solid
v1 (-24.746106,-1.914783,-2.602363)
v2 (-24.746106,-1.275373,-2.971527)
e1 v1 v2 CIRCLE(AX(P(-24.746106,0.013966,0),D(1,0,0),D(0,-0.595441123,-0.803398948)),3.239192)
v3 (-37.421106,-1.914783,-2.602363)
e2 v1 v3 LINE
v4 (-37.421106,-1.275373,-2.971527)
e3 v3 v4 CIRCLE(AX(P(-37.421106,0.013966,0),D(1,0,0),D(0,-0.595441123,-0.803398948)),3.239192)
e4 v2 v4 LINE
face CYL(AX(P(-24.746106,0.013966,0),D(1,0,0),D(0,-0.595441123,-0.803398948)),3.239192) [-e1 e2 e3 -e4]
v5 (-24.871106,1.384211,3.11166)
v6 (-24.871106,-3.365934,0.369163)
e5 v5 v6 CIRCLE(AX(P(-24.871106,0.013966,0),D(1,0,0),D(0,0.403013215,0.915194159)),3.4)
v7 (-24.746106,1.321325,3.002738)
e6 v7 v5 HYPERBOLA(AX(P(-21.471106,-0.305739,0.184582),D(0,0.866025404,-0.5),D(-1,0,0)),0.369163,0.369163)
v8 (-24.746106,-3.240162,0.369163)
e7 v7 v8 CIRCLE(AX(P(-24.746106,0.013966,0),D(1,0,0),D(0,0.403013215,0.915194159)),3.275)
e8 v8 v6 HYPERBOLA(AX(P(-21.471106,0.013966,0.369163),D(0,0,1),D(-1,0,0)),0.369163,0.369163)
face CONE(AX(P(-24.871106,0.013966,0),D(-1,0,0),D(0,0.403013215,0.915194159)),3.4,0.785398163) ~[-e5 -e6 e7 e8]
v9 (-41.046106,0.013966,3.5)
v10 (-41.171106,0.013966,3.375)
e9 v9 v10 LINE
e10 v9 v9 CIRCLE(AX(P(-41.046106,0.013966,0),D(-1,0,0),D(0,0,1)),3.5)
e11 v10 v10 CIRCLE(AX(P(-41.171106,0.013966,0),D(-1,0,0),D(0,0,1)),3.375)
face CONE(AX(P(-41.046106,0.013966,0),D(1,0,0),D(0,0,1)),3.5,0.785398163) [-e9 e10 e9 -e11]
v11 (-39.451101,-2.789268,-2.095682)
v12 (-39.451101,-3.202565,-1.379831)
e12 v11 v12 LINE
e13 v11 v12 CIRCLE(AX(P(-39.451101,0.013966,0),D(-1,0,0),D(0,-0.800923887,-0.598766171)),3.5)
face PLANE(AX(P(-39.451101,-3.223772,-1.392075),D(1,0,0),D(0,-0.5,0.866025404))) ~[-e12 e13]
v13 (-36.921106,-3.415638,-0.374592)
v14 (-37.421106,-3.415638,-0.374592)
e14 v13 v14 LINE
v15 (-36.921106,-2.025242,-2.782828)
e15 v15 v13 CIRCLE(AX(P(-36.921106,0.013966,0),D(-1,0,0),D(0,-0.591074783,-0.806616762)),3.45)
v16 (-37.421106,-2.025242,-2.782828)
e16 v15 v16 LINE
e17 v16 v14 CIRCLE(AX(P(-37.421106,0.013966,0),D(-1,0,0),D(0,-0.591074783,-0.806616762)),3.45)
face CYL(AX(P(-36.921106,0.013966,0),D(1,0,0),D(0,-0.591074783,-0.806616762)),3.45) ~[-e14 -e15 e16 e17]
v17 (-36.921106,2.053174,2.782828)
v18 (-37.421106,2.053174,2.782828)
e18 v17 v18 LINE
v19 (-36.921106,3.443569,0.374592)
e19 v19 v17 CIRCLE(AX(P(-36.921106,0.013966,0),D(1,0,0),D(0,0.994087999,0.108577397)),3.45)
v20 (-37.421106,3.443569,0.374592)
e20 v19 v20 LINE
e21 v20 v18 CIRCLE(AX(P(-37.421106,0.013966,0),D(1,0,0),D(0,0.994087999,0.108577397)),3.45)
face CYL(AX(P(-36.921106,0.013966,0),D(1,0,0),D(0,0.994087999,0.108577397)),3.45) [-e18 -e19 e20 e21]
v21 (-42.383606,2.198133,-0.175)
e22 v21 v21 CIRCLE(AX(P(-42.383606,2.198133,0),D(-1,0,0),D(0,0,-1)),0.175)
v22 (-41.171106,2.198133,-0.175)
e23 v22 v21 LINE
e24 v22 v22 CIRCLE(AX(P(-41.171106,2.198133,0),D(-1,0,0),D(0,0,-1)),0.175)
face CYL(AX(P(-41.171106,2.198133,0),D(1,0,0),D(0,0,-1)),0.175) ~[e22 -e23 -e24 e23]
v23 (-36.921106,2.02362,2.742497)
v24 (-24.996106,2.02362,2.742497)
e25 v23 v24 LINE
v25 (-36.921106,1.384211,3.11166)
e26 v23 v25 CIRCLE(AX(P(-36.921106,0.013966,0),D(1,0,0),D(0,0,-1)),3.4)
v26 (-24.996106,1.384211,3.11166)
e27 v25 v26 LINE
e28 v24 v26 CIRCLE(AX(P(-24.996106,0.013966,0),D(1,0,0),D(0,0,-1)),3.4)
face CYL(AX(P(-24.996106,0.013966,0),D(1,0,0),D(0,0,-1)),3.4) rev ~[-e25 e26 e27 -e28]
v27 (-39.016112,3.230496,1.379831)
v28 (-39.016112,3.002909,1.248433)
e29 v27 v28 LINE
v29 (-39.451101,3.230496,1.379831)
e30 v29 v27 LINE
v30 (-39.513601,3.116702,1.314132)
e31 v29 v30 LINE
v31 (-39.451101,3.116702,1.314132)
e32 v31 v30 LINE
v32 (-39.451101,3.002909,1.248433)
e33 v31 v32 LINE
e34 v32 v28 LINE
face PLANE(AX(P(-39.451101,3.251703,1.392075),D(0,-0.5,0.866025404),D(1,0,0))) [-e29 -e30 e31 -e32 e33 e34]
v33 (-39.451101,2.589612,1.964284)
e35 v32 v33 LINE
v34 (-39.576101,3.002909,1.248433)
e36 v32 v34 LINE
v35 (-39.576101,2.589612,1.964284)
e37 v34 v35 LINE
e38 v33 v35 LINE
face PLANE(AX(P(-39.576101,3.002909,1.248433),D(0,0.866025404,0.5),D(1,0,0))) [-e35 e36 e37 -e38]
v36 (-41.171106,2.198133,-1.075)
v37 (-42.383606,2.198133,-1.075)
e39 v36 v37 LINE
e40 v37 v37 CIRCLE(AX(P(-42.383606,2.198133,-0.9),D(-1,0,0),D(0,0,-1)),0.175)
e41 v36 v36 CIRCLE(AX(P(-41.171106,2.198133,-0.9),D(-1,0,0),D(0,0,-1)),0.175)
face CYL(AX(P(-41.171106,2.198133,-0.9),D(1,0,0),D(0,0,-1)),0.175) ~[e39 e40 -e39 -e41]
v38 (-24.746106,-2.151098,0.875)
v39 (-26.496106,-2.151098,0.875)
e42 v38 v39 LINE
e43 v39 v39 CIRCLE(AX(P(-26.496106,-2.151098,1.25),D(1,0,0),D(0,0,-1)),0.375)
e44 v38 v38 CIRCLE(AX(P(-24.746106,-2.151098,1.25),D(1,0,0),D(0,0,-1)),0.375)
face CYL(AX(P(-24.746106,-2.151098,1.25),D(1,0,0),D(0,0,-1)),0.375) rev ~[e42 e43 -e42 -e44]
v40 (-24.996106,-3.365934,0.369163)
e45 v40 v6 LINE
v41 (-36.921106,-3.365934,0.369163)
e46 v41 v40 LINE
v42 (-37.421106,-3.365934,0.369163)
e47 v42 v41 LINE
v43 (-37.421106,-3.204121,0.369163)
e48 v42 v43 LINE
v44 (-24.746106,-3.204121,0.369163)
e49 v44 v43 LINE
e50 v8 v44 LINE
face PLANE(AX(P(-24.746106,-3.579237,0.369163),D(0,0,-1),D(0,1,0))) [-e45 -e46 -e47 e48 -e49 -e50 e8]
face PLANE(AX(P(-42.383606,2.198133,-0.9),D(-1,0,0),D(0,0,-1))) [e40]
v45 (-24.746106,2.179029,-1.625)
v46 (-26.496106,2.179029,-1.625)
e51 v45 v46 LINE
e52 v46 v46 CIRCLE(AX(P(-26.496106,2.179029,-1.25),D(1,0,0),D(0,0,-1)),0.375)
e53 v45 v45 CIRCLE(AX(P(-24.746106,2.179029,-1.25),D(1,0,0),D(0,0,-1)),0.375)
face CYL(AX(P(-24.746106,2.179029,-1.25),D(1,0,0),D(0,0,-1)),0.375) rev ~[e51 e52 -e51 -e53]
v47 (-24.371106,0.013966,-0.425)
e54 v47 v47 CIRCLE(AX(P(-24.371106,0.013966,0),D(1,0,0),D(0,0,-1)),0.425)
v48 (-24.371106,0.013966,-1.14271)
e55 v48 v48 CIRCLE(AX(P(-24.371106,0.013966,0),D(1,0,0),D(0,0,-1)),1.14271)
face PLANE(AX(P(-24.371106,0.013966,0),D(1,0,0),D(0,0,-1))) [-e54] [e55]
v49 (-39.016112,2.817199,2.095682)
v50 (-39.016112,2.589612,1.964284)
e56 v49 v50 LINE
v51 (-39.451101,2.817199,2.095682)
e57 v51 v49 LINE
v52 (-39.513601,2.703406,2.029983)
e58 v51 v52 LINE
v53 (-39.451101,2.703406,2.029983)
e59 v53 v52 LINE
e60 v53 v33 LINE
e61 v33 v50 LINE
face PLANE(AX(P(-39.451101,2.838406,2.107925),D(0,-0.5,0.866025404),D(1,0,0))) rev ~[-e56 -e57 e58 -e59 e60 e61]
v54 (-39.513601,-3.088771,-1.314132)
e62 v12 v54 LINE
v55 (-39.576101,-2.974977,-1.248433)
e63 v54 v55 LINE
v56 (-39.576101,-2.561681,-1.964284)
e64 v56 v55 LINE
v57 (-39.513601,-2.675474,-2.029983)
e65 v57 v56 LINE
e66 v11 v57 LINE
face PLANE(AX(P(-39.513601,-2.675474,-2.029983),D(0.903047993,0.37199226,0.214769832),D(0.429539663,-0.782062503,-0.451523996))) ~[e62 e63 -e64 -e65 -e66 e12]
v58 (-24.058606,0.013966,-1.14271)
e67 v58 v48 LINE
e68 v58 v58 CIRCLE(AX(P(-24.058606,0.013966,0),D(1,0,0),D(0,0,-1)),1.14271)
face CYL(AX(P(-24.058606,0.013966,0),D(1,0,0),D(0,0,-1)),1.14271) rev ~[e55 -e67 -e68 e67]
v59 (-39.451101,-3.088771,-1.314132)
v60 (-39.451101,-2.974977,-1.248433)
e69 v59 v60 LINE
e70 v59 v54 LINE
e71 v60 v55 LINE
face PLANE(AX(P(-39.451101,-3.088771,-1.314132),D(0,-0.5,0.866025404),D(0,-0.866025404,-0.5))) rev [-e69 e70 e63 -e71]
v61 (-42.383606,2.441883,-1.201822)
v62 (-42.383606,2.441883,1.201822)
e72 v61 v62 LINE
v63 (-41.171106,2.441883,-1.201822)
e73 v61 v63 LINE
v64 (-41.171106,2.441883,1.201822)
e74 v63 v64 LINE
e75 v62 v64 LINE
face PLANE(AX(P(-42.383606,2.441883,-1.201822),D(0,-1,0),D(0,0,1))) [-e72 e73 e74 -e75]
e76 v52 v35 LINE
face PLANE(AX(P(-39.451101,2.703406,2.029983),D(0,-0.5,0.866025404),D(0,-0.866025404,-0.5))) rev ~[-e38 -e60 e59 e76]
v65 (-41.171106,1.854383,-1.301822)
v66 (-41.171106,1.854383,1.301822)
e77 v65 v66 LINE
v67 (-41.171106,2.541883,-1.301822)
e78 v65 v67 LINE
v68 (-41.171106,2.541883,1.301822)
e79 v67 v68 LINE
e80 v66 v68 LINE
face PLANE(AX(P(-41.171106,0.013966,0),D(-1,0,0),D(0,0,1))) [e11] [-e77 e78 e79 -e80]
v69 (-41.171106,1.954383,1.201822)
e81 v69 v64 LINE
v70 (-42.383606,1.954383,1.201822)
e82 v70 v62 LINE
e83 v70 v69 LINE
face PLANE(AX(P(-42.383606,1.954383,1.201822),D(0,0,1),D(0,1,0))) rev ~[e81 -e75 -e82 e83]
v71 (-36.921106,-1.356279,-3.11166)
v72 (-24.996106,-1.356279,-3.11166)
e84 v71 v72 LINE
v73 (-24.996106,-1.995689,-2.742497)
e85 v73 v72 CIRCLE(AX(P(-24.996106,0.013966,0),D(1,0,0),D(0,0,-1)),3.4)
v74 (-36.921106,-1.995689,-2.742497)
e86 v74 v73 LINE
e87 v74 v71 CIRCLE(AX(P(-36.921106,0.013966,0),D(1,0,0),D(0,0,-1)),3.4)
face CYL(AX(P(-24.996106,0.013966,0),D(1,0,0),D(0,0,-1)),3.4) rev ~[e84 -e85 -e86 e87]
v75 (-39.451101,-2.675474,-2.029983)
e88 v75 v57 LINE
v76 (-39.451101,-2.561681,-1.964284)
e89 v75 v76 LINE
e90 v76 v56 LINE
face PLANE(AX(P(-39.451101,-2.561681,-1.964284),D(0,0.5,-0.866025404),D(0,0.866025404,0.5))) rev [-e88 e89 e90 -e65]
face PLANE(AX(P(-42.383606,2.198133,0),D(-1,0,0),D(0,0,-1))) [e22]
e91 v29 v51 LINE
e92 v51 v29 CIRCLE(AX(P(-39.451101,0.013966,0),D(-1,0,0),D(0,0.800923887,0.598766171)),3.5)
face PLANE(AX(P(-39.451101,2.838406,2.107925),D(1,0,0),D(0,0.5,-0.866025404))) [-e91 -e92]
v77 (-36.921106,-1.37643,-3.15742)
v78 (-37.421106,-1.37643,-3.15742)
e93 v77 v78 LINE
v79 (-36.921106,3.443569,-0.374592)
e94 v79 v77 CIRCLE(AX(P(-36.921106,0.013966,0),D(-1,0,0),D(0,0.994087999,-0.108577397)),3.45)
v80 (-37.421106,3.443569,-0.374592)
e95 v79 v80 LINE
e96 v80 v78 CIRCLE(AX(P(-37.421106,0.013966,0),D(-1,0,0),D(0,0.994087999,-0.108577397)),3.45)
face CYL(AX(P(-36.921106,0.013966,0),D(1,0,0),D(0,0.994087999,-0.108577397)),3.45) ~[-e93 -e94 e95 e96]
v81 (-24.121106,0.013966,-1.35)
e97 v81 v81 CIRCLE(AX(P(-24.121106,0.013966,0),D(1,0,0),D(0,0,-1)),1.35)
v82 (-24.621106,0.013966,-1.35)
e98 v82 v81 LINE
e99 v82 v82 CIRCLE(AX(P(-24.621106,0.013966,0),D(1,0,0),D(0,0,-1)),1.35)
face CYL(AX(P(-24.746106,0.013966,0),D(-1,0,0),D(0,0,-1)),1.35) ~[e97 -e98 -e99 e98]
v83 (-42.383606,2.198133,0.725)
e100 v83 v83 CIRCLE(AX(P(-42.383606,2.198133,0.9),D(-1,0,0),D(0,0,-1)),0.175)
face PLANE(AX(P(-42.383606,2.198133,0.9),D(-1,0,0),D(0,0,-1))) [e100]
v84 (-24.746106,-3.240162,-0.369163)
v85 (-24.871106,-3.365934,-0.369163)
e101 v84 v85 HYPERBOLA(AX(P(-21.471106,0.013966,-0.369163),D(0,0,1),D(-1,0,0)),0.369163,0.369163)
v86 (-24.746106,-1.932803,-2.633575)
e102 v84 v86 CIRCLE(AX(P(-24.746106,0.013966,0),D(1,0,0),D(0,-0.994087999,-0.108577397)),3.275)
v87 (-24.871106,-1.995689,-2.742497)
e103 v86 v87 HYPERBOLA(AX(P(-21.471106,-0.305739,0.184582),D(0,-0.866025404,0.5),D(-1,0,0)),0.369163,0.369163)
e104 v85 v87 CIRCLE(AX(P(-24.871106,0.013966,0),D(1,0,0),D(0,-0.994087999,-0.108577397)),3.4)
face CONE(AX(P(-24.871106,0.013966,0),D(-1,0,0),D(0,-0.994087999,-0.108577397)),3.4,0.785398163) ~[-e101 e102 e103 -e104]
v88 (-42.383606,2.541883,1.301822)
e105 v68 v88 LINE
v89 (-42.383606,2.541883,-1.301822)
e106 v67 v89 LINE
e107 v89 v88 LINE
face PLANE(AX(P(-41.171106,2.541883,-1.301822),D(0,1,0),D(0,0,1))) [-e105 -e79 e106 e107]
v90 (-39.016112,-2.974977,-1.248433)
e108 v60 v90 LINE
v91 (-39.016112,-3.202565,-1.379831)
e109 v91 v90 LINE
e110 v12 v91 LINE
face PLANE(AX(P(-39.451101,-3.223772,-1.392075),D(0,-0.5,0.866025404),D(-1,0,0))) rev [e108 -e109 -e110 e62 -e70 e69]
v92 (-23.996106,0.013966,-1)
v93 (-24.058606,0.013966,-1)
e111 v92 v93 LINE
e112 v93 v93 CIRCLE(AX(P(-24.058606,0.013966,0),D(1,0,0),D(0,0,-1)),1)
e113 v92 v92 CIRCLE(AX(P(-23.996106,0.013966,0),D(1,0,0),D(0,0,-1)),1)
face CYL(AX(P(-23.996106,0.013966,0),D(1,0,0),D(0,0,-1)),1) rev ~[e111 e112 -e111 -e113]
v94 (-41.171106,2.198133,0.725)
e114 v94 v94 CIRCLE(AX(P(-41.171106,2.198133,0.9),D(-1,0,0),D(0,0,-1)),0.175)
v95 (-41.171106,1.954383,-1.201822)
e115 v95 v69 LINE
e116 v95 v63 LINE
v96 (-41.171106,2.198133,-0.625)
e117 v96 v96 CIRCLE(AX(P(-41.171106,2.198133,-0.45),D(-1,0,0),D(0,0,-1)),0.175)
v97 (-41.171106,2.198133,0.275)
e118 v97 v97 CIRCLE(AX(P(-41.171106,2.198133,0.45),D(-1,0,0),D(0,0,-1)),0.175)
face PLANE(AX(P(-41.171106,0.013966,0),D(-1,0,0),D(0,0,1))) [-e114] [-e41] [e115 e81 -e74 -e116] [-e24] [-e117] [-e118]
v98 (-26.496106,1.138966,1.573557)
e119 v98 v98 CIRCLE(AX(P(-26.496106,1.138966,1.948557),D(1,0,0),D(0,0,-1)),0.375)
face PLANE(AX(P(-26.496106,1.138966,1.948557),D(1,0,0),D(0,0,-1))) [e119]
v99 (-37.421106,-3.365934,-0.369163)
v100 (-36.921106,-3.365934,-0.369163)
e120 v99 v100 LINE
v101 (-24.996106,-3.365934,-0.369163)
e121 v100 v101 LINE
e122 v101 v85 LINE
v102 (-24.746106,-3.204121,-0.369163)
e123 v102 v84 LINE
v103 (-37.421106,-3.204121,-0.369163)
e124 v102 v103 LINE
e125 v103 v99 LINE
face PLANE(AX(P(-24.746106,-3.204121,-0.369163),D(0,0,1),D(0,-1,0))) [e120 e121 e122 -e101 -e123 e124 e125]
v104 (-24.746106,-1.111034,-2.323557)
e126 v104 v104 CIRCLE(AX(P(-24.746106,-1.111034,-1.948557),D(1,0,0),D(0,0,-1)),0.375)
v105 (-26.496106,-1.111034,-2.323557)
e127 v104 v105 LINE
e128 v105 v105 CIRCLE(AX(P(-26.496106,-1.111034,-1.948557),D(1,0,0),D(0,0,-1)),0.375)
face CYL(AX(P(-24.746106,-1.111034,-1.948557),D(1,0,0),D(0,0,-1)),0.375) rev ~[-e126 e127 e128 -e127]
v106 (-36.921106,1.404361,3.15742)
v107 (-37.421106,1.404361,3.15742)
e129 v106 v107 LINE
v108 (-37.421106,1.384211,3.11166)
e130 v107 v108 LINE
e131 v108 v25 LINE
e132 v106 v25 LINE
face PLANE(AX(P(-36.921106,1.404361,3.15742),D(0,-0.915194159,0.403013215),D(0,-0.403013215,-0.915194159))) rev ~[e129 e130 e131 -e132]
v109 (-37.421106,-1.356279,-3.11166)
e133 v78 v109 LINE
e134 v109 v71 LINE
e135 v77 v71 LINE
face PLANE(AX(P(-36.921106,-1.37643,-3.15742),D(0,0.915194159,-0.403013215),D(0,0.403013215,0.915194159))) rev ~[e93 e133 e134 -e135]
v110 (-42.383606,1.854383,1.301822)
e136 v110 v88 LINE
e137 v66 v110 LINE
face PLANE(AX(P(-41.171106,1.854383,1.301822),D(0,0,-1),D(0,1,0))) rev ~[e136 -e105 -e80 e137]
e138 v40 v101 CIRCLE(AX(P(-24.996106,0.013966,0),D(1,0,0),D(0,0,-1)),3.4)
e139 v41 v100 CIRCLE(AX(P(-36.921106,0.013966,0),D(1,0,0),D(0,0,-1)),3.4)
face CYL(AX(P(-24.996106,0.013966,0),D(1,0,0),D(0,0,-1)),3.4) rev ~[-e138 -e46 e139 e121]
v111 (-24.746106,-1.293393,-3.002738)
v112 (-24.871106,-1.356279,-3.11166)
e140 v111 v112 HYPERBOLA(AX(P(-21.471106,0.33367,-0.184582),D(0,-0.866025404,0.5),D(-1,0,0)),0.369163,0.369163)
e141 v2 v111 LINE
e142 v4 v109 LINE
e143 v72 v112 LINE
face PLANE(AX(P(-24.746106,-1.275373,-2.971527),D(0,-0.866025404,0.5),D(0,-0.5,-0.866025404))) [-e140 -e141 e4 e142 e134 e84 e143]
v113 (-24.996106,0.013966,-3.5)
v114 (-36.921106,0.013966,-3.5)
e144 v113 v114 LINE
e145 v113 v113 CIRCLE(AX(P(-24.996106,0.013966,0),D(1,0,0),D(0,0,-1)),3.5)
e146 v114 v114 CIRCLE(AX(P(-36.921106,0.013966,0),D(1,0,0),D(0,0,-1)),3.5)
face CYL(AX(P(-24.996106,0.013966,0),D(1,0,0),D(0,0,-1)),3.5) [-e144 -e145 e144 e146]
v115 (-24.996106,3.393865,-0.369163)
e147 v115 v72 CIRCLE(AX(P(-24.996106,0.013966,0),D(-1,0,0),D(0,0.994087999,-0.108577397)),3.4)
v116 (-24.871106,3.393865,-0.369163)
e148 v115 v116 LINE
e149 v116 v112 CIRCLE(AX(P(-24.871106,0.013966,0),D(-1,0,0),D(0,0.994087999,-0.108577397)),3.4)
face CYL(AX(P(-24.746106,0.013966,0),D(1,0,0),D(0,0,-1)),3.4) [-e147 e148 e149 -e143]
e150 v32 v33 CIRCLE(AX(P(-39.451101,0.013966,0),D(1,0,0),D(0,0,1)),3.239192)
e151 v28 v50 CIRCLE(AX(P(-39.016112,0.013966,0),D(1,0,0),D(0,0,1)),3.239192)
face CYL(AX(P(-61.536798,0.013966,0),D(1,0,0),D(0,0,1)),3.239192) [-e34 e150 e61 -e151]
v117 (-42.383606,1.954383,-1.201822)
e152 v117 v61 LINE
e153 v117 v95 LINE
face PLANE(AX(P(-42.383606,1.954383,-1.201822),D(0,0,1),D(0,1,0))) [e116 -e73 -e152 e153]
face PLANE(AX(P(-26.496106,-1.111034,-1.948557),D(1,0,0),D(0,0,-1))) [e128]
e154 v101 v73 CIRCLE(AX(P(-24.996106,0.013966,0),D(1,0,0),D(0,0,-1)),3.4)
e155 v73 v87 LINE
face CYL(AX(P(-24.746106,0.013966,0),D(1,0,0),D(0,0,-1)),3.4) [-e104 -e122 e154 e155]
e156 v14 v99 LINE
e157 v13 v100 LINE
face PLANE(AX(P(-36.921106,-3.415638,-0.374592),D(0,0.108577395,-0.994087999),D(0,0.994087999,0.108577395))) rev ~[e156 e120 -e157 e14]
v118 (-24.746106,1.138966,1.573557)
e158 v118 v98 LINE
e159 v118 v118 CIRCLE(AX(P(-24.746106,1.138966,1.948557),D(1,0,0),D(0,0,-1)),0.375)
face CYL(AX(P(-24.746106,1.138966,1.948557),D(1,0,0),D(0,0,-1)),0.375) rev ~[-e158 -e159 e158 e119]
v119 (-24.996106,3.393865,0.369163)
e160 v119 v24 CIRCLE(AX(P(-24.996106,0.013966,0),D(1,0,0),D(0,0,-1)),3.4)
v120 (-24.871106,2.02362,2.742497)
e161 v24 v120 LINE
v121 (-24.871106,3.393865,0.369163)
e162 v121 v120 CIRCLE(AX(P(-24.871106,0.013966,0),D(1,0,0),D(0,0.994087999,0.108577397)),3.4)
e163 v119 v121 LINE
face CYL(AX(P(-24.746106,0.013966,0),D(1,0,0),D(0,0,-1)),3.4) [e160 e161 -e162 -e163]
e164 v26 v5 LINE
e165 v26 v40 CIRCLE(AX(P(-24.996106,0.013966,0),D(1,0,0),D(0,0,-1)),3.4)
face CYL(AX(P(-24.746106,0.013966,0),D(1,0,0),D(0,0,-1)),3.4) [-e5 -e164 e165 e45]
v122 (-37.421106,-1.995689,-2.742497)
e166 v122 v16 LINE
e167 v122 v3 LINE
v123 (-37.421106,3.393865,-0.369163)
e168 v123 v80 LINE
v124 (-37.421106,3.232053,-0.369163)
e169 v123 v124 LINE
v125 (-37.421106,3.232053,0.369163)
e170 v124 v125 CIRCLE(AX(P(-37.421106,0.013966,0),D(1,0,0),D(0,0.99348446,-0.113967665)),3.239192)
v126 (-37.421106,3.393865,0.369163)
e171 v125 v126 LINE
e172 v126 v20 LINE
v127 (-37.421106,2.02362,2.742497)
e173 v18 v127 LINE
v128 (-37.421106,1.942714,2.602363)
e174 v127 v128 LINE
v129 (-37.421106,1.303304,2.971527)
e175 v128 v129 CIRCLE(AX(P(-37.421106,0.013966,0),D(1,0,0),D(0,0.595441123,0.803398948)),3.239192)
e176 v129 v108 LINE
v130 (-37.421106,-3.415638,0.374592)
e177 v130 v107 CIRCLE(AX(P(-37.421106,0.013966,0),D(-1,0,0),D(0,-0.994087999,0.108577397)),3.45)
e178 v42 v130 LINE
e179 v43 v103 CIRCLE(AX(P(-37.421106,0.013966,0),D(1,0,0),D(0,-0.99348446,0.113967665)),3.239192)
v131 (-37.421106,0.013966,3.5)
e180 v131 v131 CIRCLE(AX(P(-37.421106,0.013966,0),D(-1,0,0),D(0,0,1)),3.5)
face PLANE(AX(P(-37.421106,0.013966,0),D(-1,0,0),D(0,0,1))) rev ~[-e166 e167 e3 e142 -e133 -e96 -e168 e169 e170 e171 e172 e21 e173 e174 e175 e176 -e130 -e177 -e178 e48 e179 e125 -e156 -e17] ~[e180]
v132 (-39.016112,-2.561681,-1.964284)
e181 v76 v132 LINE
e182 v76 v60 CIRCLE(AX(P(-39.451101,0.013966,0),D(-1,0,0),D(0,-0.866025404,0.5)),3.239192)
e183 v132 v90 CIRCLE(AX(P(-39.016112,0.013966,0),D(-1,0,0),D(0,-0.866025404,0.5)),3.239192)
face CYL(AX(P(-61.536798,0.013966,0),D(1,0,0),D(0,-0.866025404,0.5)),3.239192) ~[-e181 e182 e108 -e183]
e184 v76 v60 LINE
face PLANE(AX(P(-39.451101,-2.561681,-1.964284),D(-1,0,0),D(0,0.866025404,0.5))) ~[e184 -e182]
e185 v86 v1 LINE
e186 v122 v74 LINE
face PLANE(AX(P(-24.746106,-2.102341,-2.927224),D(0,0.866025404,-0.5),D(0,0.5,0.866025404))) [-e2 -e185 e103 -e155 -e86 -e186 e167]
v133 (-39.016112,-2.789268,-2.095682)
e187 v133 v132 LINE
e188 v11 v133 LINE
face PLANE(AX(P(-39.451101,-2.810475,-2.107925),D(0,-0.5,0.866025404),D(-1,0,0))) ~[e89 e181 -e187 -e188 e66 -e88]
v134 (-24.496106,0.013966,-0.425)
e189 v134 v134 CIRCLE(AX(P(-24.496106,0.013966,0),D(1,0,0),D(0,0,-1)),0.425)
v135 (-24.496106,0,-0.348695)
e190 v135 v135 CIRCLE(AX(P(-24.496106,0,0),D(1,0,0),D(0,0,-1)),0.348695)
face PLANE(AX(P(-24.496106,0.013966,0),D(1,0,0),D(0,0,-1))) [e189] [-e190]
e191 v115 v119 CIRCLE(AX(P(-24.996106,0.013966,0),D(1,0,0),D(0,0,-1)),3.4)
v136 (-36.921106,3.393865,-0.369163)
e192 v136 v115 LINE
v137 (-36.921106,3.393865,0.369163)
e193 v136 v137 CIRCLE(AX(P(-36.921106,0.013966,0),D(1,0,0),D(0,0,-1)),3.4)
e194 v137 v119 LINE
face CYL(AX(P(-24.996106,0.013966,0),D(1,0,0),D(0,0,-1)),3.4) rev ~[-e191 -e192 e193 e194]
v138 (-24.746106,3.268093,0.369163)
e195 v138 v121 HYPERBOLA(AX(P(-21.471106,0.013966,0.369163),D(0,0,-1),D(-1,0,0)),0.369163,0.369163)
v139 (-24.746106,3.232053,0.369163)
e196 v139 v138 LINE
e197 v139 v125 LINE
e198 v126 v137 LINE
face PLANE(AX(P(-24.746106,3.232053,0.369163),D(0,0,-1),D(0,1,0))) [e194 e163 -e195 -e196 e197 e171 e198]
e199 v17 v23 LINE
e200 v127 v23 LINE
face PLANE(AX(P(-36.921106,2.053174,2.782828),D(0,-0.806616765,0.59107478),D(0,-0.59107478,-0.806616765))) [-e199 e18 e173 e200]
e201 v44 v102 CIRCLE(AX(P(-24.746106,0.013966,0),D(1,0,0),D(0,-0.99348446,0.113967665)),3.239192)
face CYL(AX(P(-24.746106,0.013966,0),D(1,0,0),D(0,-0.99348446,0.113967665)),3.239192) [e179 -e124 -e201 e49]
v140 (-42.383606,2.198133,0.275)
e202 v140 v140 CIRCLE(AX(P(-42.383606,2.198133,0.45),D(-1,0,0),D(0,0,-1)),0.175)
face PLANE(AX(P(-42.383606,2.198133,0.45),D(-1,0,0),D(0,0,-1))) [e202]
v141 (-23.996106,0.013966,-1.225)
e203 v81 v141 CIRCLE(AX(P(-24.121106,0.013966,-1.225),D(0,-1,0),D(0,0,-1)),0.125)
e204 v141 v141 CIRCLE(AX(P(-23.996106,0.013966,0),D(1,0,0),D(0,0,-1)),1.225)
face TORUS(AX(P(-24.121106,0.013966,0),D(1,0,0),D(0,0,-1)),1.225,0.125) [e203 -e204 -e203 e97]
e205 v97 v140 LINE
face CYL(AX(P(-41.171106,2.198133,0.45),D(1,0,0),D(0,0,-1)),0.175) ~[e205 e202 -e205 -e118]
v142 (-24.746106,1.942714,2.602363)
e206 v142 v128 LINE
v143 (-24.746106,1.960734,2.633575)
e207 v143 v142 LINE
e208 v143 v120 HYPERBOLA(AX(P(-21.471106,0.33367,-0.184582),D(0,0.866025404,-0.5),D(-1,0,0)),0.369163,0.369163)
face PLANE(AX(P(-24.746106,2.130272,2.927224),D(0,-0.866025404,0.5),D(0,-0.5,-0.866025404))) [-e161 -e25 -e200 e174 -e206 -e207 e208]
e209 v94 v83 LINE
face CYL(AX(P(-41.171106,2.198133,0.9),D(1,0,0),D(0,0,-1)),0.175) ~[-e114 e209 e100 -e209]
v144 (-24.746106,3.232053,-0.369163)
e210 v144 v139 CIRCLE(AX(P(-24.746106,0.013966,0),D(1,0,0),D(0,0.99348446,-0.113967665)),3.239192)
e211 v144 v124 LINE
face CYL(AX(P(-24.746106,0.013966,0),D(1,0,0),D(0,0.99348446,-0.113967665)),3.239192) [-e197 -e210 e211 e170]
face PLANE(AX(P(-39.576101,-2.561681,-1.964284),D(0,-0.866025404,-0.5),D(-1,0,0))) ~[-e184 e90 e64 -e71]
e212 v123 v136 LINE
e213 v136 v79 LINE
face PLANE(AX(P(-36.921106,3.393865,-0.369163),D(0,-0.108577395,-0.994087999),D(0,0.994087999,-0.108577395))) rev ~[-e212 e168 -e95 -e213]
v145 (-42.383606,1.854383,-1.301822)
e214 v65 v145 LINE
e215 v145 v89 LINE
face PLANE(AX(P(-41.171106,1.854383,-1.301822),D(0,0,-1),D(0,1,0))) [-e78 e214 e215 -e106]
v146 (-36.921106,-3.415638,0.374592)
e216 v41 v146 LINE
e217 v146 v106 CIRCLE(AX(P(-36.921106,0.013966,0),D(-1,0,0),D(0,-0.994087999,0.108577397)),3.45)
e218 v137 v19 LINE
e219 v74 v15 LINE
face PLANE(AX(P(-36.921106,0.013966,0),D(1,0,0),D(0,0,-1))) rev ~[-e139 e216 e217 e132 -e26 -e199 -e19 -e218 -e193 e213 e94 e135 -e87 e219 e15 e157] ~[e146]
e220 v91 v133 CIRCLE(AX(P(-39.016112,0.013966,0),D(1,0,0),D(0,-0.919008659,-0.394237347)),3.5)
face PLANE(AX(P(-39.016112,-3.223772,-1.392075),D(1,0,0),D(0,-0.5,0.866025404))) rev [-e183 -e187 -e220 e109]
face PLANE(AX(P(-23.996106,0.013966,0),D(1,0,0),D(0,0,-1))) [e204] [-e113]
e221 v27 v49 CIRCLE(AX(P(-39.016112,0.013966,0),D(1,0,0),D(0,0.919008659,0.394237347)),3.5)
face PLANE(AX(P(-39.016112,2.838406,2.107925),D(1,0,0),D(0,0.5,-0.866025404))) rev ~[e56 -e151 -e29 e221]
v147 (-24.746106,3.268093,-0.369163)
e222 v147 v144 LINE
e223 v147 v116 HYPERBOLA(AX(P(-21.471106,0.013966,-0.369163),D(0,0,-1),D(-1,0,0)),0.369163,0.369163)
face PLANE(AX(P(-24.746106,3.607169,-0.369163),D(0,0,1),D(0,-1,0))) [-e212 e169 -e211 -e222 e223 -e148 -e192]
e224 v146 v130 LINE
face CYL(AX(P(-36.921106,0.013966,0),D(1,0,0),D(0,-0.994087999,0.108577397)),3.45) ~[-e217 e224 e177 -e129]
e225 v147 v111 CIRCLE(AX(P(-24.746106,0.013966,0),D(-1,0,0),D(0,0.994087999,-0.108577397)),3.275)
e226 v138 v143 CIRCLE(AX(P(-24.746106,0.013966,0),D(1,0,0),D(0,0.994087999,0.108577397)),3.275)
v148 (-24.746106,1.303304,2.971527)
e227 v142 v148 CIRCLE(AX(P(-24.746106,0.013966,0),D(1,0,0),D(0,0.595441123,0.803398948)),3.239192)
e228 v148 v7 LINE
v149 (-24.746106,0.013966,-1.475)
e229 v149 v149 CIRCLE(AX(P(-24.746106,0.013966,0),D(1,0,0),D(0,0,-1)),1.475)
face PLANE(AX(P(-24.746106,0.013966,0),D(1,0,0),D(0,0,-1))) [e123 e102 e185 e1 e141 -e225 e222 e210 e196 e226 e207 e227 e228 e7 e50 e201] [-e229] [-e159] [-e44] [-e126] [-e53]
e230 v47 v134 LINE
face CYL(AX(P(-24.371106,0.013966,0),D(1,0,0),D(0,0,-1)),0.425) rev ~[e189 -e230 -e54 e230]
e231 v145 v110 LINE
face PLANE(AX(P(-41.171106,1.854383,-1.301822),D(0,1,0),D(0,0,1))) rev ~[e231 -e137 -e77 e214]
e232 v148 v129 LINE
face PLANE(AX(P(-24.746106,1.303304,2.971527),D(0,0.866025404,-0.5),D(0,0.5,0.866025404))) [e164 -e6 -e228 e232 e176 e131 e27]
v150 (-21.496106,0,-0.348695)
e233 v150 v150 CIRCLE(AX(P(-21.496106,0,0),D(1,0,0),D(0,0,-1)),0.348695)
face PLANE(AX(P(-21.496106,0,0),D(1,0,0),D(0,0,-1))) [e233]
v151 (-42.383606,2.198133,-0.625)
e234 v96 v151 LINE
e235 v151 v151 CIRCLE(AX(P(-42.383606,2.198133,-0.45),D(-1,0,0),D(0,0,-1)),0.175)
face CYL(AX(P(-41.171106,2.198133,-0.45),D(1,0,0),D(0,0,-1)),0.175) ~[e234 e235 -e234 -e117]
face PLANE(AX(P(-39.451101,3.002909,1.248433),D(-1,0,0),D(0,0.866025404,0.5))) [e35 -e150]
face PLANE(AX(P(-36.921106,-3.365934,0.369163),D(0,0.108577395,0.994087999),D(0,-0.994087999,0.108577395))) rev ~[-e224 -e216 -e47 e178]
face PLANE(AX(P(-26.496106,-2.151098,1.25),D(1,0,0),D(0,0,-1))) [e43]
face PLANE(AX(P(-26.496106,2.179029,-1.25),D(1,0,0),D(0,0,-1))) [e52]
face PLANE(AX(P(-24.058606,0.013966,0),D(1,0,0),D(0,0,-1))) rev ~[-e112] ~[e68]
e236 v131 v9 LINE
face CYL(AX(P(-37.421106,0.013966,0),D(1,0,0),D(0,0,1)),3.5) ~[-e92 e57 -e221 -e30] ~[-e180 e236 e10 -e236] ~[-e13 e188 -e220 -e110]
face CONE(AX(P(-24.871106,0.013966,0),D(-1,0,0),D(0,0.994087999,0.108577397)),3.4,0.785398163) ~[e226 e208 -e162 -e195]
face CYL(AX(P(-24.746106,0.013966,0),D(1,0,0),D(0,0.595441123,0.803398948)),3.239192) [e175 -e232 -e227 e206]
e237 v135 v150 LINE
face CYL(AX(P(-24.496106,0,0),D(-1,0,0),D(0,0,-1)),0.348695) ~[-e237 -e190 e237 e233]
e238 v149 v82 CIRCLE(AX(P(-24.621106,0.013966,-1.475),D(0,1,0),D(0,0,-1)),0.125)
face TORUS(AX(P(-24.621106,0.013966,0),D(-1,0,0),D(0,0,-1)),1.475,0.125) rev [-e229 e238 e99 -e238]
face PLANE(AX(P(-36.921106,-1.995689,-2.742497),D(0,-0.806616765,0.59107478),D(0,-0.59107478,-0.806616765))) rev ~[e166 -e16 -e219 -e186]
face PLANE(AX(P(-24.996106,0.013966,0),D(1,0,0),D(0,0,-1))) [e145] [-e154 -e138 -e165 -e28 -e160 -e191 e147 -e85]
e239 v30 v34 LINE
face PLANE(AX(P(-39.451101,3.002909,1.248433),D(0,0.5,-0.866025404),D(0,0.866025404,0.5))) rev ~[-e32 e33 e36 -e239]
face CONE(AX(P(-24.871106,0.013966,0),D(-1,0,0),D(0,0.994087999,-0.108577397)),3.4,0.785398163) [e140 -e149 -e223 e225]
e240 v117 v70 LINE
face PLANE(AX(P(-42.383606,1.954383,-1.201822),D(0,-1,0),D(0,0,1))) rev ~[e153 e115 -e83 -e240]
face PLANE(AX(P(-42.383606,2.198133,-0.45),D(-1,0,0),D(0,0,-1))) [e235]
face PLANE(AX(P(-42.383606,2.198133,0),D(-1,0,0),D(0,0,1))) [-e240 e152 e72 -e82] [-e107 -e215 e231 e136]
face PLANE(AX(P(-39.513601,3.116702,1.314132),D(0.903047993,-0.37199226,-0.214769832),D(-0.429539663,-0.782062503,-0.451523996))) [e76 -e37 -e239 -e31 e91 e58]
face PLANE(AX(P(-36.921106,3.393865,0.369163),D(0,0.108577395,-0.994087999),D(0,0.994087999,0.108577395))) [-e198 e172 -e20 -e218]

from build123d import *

# Parameters (mm, degrees)
SKETCH1_R               = 13.6
BOSS_EXTRUDE1_DEPTH     = 50.7
CUT_EXTRUDE1_DEPTH      = 55.225547485
SKETCH3_R               = 14
SKETCH3_R_2             = 13.6
BOSS_EXTRUDE2_DEPTH     = 47.7
SKETCH4_R               = 14
BOSS_EXTRUDE3_DEPTH     = 15
BOSS_EXTRUDE4_START     = 2
BOSS_EXTRUDE4_DEPTH     = 2
SKETCH6_R               = 1.5
CUT_EXTRUDE2_DEPTH      = 7
SKETCH7_R               = 5.4
BOSS_EXTRUDE5_DEPTH     = 3
SKETCH8_R               = 4
CUT_EXTRUDE3_DEPTH      = 1.5
SKETCH9_R               = 1.7
CUT_EXTRUDE4_DEPTH      = 0.5
CUT_EXTRUDE5_START      = 1.25
SKETCH12_R              = 4.570841128
SKETCH12_R_2            = 4
CUT_EXTRUDE5_DEPTH      = 1.25
FILLET1_R               = 0.5
CHAMFER1_SIZE           = 0.5
CUT_EXTRUDE6_REACH      = 75.756
CUT_EXTRUDE6_END_RADIUS = 12.956768024
SKETCH13_W              = 1.739955734
SKETCH13_H              = 3.306373614
CUT_EXTRUDE7_DEPTH      = 0.5
CUT_EXTRUDE8_DEPTH      = 3.306373613
BOSS_EXTRUDE7_DEPTH     = 3.306373613
SKETCH17_W              = 10.414574722
SKETCH17_H              = 2.75
BOSS_EXTRUDE8_DEPTH     = 4.85
SKETCH18_W              = 9.614574722
SKETCH18_H              = 1.95
CUT_EXTRUDE10_DEPTH     = 4.85
SKETCH20_R              = 0.7
BOSS_EXTRUDE9_DEPTH     = 4.85
SCALE1_SCALE            = 0.25
SKETCH21_R              = 0.348695204
BOSS_EXTRUDE10_DEPTH    = 3


with BuildPart() as part:
    # Sketch1 → Boss-Extrude1 (new body)
    with BuildSketch(Plane(origin=(0, 0, 0), x_dir=(0, 0, -1), z_dir=(1, 0, 0))):
        Circle(SKETCH1_R)
    extrude(amount=-BOSS_EXTRUDE1_DEPTH)

    # Sketch2 → Cut-Extrude1 (cut, through all)
    with BuildSketch(Plane(origin=(0, 0, 0), x_dir=(0, 0, -1), z_dir=(1, 0, 0))):
        with BuildLine():
            Line((-1.476652596, 12.872347678), (-1.476652596, 14.372812182))
            Line((-1.476652596, 14.372812182), (1.476652596, 14.372812182))
            Line((1.476652596, 14.372812182), (1.476652596, 12.872347678))
            ThreePointArc((1.476652596, 12.872347678), (0, 12.956768024), (-1.476652596, 12.872347678))
        make_face()
        with BuildLine():
            Line((1.476652596, -12.872347678), (1.476652596, -14.372812182))
            Line((1.476652596, -14.372812182), (-1.476652596, -14.372812182))
            Line((-1.476652596, -14.372812182), (-1.476652596, -12.872347678))
            ThreePointArc((-1.476652596, -12.872347678), (0, -12.956768024), (1.476652596, -12.872347678))
        make_face()
        with BuildLine():
            Line((11.886106393, -5.157355179), (13.185546772, -5.907587431))
            Line((13.185546772, -5.907587431), (11.708894176, -8.465224751))
            Line((11.708894176, -8.465224751), (10.409453797, -7.714992499))
            ThreePointArc((10.409453797, -7.714992499), (11.220890259, -6.478384012), (11.886106393, -5.157355179))
        make_face()
        with BuildLine():
            Line((-11.886106393, 5.157355179), (-13.185546772, 5.907587431))
            Line((-13.185546772, 5.907587431), (-11.708894176, 8.465224751))
            Line((-11.708894176, 8.465224751), (-10.409453797, 7.714992499))
            ThreePointArc((-10.409453797, 7.714992499), (-11.220890259, 6.478384012), (-11.886106393, 5.157355179))
        make_face()
    extrude(amount=-CUT_EXTRUDE1_DEPTH, mode=Mode.SUBTRACT)



with BuildPart() as body_2:
    # Sketch3 → Boss-Extrude2 (new body)
    with BuildSketch(Plane(origin=(-1, 0, 0), x_dir=(0, 0, -1), z_dir=(1, 0, 0))):
        Circle(SKETCH3_R)
        Circle(SKETCH3_R_2, mode=Mode.SUBTRACT)
    extrude(amount=-BOSS_EXTRUDE2_DEPTH)


with BuildPart() as body_3:
    # Sketch4 → Boss-Extrude3 (new body)
    with BuildSketch(Plane.ZY.offset(50.7)):
        Circle(SKETCH4_R)
    extrude(amount=BOSS_EXTRUDE3_DEPTH)


with BuildPart() as part_1:
    add(part.part)

    add(body_2.part)  # Boss-Extrude4 merges body 2

    add(body_3.part)  # Boss-Extrude4 merges body 3
    # Sketch5 → Boss-Extrude4 (add)
    with BuildSketch(Plane(origin=(-50.7, 0, 0), x_dir=(0, 0, -1), z_dir=(1, 0, 0)).offset(BOSS_EXTRUDE4_START)):
        with BuildLine():
            Line((1.476652596, 13.519596781), (1.498368075, 13.71841438))
            ThreePointArc((1.498368075, 13.71841438), (11.951150572, 6.9), (12.629679391, -5.561582373))
            Line((12.629679391, -5.561582373), (12.446640559, -5.48097973))
            ThreePointArc((12.446640559, -5.48097973), (11.777945491, 6.8), (1.476652596, 13.519596781))
        make_face()
        with BuildLine():
            Line((-1.476652596, 13.519596781), (-1.498368075, 13.71841438))
            ThreePointArc((-1.498368075, 13.71841438), (-6.9, 11.951150572), (-11.131311316, 8.156832007))
            Line((-11.131311316, 8.156832007), (-10.969987963, 8.038617051))
            ThreePointArc((-10.969987963, 8.038617051), (-6.8, 11.777945491), (-1.476652596, 13.519596781))
        make_face()
        with BuildLine():
            Line((10.969987963, -8.038617051), (11.131311316, -8.156832007))
            ThreePointArc((11.131311316, -8.156832007), (6.9, -11.951150572), (1.498368075, -13.71841438))
            Line((1.498368075, -13.71841438), (1.476652596, -13.519596781))
            ThreePointArc((1.476652596, -13.519596781), (6.8, -11.777945491), (10.969987963, -8.038617051))
        make_face()
        with BuildLine():
            Line((-1.476652596, -13.519596781), (-1.498368075, -13.71841438))
            ThreePointArc((-1.498368075, -13.71841438), (-11.951150572, -6.9), (-12.629679391, 5.561582373))
            Line((-12.629679391, 5.561582373), (-12.446640559, 5.48097973))
            ThreePointArc((-12.446640559, 5.48097973), (-11.777945491, -6.8), (-1.476652596, -13.519596781))
        make_face()
    extrude(amount=-BOSS_EXTRUDE4_DEPTH)

    # Sketch6 → Cut-Extrude2 (cut)
    with BuildSketch(Plane(origin=(0, 0, 0), x_dir=(0, 0, -1), z_dir=(1, 0, 0))):
        with Locations((-5, -8.660254038)):
            Circle(SKETCH6_R)
        with Locations((5, 8.660254038)):
            Circle(SKETCH6_R)
        with Locations((-7.794228634, 4.5)):
            Circle(SKETCH6_R)
        with Locations((7.794228634, -4.5)):
            Circle(SKETCH6_R)
    extrude(amount=-CUT_EXTRUDE2_DEPTH, mode=Mode.SUBTRACT)

    # Sketch7 → Boss-Extrude5 (add)
    with BuildSketch(Plane(origin=(0, 0, 0), x_dir=(0, 0, -1), z_dir=(1, 0, 0))):
        Circle(SKETCH7_R)
    extrude(amount=BOSS_EXTRUDE5_DEPTH)

    # Sketch8 → Cut-Extrude3 (cut)
    with BuildSketch(Plane(origin=(3, 0, 0), x_dir=(0, 0, -1), z_dir=(1, 0, 0))):
        Circle(SKETCH8_R)
    extrude(amount=-CUT_EXTRUDE3_DEPTH, mode=Mode.SUBTRACT)

    # Sketch9 → Cut-Extrude4 (cut)
    with BuildSketch(Plane(origin=(1.5, 0, 0), x_dir=(0, 0, -1), z_dir=(1, 0, 0))):
        Circle(SKETCH9_R)
    extrude(amount=-CUT_EXTRUDE4_DEPTH, mode=Mode.SUBTRACT)

    # Sketch12 → Cut-Extrude5 (cut)
    with BuildSketch(Plane(origin=(1.5, 0, 0), x_dir=(0, 0, -1), z_dir=(1, 0, 0)).offset(CUT_EXTRUDE5_START)):
        Circle(SKETCH12_R)
        Circle(SKETCH12_R_2, mode=Mode.SUBTRACT)
    extrude(amount=-CUT_EXTRUDE5_DEPTH, mode=Mode.SUBTRACT)

    # Fillet1
    fillet1_edges = [part_1.edges().sort_by_distance(p)[0] for p in [
        (0, 0, 5.4),
        (3, 0, 5.4),
    ]]
    fillet(fillet1_edges, radius=FILLET1_R)

    # Chamfer1
    chamfer1_edges = [part_1.edges().sort_by_distance(p)[0] for p in [
        (-65.7, 0, -14),
        (0, 11.777945491, 6.8),
        (0, -6.8, 11.777945491),
        (0, -11.777945491, -6.8),
        (0, 6.8, -11.777945491),
    ]]
    chamfer(chamfer1_edges, length=CHAMFER1_SIZE)

    # Cut-Extrude6: up to this cylinder (the profile starts outside it)
    cut_extrude6_end = Plane(origin=(-57.95, 0, 0), z_dir=(1, 0, 0)) * Cylinder(CUT_EXTRUDE6_END_RADIUS, 178.425536047, mode=Mode.PRIVATE)
    # Sketch13 → Cut-Extrude6 (cut, up to the surface)
    with BuildSketch(Plane(origin=(0, 12.124355653, 7), x_dir=(1, 0, 0), z_dir=(0, 0.866025403784438, 0.500000000000001)), mode=Mode.PRIVATE) as cut_extrude6_sk1:
        with Locations((-57.95, 0)):
            Rectangle(SKETCH13_W, SKETCH13_H)
    cut_extrude6_tool1 = extrude(cut_extrude6_sk1.sketch, amount=-CUT_EXTRUDE6_REACH, mode=Mode.PRIVATE) - cut_extrude6_end
    cut_extrude6 = cut_extrude6_tool1.solids().sort_by_distance((-57.95, 12.124356, 7))[0]
    add(cut_extrude6, mode=Mode.SUBTRACT)

    # Sketch14 → Cut-Extrude7 (cut)
    with BuildSketch(Plane(origin=(-58.819977867, 0, 0), x_dir=(0, 0, -1), z_dir=(1, 0, 0))):
        with BuildLine():
            Line((-5.256527567, 12.41094643), (-8.11993111, 10.757759624))
            Line((-8.11993111, 10.757759624), (-7.857135823, 10.302584835))
            ThreePointArc((-7.857135823, 10.302584835), (-6.478384012, 11.220890259), (-4.99373228, 11.955771641))
            Line((-4.99373228, 11.955771641), (-5.256527567, 12.41094643))
        make_face()
    cut_extrude7 = extrude(amount=-CUT_EXTRUDE7_DEPTH, mode=Mode.SUBTRACT)

    # Sketch15 → Cut-Extrude8 (cut)
    with BuildSketch(Plane(origin=(0, 0.826593403, -1.431701772), x_dir=(1, 0, 0), z_dir=(0, -0.5000000000000011, 0.8660254037844379))):
        Polygon((-58.819977867, 13.902049251), (-59.319977867, 12.850868103), (-58.819977867, 12.850868103), align=None)
    cut_extrude8 = extrude(amount=CUT_EXTRUDE8_DEPTH, mode=Mode.SUBTRACT)

    # Sketch16 → Boss-Extrude7 (add)
    with BuildSketch(Plane(origin=(0, 0.826593403, -1.431701772), x_dir=(1, 0, 0), z_dir=(0, -0.5000000000000011, 0.8660254037844379))):
        Polygon((-59.069977867, 13.376458677), (-59.319977867, 12.850868103), (-59.319977867, 13.376458677), align=None)
    boss_extrude7 = extrude(amount=BOSS_EXTRUDE7_DEPTH)

    # Mirror1: Cut-Extrude6, Cut-Extrude7, Cut-Extrude8, Boss-Extrude7 across plane
    add(cut_extrude6.mirror(Plane(origin=(0, 0, 0), x_dir=(0, -0.500000000000001, 0.866025403784438), z_dir=(0, 0.866025403784438, 0.500000000000001))), mode=Mode.SUBTRACT)
    add(cut_extrude7.mirror(Plane(origin=(0, 0, 0), x_dir=(0, -0.500000000000001, 0.866025403784438), z_dir=(0, 0.866025403784438, 0.500000000000001))), mode=Mode.SUBTRACT)
    add(cut_extrude8.mirror(Plane(origin=(0, 0, 0), x_dir=(0, -0.500000000000001, 0.866025403784438), z_dir=(0, 0.866025403784438, 0.500000000000001))), mode=Mode.SUBTRACT)
    add(boss_extrude7.mirror(Plane(origin=(0, 0, 0), x_dir=(0, -0.500000000000001, 0.866025403784438), z_dir=(0, 0.866025403784438, 0.500000000000001))))


with BuildPart() as body_2_2:
    # Sketch17 → Boss-Extrude8 (new body)
    with BuildSketch(Plane.ZY.offset(65.7)):
        with Locations((0, 8.736671017)):
            Rectangle(SKETCH17_W, SKETCH17_H)
    extrude(amount=BOSS_EXTRUDE8_DEPTH)

    # Sketch18 → Cut-Extrude10 (cut)
    with BuildSketch(Plane.ZY.offset(70.55)):
        with Locations((0, 8.736671017)):
            Rectangle(SKETCH18_W, SKETCH18_H)
    extrude(amount=-CUT_EXTRUDE10_DEPTH, mode=Mode.SUBTRACT)


    add(part_1.part)  # Boss-Extrude9 merges part
    # Sketch20 → Boss-Extrude9 (add)
    with BuildSketch(Plane.ZY.offset(65.7)):
        with Locations(Location((0, 8.736671017, 0), (0, 0, 180))):
            Circle(SKETCH20_R)
        with Locations(Location((1.8, 8.736671017, 0), (0, 0, 180))):
            Circle(SKETCH20_R)
        with Locations(Location((3.6, 8.736671017, 0), (0, 0, 180))):
            Circle(SKETCH20_R)
        with Locations(Location((-1.8, 8.736671017, 0), (0, 0, 180))):
            Circle(SKETCH20_R)
        with Locations(Location((-3.6, 8.736671017, 0), (0, 0, 180))):
            Circle(SKETCH20_R)
    extrude(amount=BOSS_EXTRUDE9_DEPTH)


with BuildPart() as body_2_2_1:
    # Scale1: scaled about (-32.994808114, 0.01862081, 0)
    add(body_2_2.part.scale(SCALE1_SCALE).moved(Location((-24.746106086, 0.013965608, 0))))

    # Sketch21 → Boss-Extrude10 (add)
    with BuildSketch(Plane(origin=(-24.496106086, 0, 0), x_dir=(0, 0, -1), z_dir=(1, 0, 0))):
        Circle(SKETCH21_R)
    extrude(amount=BOSS_EXTRUDE10_DEPTH)


solid = body_2_2_1.part
